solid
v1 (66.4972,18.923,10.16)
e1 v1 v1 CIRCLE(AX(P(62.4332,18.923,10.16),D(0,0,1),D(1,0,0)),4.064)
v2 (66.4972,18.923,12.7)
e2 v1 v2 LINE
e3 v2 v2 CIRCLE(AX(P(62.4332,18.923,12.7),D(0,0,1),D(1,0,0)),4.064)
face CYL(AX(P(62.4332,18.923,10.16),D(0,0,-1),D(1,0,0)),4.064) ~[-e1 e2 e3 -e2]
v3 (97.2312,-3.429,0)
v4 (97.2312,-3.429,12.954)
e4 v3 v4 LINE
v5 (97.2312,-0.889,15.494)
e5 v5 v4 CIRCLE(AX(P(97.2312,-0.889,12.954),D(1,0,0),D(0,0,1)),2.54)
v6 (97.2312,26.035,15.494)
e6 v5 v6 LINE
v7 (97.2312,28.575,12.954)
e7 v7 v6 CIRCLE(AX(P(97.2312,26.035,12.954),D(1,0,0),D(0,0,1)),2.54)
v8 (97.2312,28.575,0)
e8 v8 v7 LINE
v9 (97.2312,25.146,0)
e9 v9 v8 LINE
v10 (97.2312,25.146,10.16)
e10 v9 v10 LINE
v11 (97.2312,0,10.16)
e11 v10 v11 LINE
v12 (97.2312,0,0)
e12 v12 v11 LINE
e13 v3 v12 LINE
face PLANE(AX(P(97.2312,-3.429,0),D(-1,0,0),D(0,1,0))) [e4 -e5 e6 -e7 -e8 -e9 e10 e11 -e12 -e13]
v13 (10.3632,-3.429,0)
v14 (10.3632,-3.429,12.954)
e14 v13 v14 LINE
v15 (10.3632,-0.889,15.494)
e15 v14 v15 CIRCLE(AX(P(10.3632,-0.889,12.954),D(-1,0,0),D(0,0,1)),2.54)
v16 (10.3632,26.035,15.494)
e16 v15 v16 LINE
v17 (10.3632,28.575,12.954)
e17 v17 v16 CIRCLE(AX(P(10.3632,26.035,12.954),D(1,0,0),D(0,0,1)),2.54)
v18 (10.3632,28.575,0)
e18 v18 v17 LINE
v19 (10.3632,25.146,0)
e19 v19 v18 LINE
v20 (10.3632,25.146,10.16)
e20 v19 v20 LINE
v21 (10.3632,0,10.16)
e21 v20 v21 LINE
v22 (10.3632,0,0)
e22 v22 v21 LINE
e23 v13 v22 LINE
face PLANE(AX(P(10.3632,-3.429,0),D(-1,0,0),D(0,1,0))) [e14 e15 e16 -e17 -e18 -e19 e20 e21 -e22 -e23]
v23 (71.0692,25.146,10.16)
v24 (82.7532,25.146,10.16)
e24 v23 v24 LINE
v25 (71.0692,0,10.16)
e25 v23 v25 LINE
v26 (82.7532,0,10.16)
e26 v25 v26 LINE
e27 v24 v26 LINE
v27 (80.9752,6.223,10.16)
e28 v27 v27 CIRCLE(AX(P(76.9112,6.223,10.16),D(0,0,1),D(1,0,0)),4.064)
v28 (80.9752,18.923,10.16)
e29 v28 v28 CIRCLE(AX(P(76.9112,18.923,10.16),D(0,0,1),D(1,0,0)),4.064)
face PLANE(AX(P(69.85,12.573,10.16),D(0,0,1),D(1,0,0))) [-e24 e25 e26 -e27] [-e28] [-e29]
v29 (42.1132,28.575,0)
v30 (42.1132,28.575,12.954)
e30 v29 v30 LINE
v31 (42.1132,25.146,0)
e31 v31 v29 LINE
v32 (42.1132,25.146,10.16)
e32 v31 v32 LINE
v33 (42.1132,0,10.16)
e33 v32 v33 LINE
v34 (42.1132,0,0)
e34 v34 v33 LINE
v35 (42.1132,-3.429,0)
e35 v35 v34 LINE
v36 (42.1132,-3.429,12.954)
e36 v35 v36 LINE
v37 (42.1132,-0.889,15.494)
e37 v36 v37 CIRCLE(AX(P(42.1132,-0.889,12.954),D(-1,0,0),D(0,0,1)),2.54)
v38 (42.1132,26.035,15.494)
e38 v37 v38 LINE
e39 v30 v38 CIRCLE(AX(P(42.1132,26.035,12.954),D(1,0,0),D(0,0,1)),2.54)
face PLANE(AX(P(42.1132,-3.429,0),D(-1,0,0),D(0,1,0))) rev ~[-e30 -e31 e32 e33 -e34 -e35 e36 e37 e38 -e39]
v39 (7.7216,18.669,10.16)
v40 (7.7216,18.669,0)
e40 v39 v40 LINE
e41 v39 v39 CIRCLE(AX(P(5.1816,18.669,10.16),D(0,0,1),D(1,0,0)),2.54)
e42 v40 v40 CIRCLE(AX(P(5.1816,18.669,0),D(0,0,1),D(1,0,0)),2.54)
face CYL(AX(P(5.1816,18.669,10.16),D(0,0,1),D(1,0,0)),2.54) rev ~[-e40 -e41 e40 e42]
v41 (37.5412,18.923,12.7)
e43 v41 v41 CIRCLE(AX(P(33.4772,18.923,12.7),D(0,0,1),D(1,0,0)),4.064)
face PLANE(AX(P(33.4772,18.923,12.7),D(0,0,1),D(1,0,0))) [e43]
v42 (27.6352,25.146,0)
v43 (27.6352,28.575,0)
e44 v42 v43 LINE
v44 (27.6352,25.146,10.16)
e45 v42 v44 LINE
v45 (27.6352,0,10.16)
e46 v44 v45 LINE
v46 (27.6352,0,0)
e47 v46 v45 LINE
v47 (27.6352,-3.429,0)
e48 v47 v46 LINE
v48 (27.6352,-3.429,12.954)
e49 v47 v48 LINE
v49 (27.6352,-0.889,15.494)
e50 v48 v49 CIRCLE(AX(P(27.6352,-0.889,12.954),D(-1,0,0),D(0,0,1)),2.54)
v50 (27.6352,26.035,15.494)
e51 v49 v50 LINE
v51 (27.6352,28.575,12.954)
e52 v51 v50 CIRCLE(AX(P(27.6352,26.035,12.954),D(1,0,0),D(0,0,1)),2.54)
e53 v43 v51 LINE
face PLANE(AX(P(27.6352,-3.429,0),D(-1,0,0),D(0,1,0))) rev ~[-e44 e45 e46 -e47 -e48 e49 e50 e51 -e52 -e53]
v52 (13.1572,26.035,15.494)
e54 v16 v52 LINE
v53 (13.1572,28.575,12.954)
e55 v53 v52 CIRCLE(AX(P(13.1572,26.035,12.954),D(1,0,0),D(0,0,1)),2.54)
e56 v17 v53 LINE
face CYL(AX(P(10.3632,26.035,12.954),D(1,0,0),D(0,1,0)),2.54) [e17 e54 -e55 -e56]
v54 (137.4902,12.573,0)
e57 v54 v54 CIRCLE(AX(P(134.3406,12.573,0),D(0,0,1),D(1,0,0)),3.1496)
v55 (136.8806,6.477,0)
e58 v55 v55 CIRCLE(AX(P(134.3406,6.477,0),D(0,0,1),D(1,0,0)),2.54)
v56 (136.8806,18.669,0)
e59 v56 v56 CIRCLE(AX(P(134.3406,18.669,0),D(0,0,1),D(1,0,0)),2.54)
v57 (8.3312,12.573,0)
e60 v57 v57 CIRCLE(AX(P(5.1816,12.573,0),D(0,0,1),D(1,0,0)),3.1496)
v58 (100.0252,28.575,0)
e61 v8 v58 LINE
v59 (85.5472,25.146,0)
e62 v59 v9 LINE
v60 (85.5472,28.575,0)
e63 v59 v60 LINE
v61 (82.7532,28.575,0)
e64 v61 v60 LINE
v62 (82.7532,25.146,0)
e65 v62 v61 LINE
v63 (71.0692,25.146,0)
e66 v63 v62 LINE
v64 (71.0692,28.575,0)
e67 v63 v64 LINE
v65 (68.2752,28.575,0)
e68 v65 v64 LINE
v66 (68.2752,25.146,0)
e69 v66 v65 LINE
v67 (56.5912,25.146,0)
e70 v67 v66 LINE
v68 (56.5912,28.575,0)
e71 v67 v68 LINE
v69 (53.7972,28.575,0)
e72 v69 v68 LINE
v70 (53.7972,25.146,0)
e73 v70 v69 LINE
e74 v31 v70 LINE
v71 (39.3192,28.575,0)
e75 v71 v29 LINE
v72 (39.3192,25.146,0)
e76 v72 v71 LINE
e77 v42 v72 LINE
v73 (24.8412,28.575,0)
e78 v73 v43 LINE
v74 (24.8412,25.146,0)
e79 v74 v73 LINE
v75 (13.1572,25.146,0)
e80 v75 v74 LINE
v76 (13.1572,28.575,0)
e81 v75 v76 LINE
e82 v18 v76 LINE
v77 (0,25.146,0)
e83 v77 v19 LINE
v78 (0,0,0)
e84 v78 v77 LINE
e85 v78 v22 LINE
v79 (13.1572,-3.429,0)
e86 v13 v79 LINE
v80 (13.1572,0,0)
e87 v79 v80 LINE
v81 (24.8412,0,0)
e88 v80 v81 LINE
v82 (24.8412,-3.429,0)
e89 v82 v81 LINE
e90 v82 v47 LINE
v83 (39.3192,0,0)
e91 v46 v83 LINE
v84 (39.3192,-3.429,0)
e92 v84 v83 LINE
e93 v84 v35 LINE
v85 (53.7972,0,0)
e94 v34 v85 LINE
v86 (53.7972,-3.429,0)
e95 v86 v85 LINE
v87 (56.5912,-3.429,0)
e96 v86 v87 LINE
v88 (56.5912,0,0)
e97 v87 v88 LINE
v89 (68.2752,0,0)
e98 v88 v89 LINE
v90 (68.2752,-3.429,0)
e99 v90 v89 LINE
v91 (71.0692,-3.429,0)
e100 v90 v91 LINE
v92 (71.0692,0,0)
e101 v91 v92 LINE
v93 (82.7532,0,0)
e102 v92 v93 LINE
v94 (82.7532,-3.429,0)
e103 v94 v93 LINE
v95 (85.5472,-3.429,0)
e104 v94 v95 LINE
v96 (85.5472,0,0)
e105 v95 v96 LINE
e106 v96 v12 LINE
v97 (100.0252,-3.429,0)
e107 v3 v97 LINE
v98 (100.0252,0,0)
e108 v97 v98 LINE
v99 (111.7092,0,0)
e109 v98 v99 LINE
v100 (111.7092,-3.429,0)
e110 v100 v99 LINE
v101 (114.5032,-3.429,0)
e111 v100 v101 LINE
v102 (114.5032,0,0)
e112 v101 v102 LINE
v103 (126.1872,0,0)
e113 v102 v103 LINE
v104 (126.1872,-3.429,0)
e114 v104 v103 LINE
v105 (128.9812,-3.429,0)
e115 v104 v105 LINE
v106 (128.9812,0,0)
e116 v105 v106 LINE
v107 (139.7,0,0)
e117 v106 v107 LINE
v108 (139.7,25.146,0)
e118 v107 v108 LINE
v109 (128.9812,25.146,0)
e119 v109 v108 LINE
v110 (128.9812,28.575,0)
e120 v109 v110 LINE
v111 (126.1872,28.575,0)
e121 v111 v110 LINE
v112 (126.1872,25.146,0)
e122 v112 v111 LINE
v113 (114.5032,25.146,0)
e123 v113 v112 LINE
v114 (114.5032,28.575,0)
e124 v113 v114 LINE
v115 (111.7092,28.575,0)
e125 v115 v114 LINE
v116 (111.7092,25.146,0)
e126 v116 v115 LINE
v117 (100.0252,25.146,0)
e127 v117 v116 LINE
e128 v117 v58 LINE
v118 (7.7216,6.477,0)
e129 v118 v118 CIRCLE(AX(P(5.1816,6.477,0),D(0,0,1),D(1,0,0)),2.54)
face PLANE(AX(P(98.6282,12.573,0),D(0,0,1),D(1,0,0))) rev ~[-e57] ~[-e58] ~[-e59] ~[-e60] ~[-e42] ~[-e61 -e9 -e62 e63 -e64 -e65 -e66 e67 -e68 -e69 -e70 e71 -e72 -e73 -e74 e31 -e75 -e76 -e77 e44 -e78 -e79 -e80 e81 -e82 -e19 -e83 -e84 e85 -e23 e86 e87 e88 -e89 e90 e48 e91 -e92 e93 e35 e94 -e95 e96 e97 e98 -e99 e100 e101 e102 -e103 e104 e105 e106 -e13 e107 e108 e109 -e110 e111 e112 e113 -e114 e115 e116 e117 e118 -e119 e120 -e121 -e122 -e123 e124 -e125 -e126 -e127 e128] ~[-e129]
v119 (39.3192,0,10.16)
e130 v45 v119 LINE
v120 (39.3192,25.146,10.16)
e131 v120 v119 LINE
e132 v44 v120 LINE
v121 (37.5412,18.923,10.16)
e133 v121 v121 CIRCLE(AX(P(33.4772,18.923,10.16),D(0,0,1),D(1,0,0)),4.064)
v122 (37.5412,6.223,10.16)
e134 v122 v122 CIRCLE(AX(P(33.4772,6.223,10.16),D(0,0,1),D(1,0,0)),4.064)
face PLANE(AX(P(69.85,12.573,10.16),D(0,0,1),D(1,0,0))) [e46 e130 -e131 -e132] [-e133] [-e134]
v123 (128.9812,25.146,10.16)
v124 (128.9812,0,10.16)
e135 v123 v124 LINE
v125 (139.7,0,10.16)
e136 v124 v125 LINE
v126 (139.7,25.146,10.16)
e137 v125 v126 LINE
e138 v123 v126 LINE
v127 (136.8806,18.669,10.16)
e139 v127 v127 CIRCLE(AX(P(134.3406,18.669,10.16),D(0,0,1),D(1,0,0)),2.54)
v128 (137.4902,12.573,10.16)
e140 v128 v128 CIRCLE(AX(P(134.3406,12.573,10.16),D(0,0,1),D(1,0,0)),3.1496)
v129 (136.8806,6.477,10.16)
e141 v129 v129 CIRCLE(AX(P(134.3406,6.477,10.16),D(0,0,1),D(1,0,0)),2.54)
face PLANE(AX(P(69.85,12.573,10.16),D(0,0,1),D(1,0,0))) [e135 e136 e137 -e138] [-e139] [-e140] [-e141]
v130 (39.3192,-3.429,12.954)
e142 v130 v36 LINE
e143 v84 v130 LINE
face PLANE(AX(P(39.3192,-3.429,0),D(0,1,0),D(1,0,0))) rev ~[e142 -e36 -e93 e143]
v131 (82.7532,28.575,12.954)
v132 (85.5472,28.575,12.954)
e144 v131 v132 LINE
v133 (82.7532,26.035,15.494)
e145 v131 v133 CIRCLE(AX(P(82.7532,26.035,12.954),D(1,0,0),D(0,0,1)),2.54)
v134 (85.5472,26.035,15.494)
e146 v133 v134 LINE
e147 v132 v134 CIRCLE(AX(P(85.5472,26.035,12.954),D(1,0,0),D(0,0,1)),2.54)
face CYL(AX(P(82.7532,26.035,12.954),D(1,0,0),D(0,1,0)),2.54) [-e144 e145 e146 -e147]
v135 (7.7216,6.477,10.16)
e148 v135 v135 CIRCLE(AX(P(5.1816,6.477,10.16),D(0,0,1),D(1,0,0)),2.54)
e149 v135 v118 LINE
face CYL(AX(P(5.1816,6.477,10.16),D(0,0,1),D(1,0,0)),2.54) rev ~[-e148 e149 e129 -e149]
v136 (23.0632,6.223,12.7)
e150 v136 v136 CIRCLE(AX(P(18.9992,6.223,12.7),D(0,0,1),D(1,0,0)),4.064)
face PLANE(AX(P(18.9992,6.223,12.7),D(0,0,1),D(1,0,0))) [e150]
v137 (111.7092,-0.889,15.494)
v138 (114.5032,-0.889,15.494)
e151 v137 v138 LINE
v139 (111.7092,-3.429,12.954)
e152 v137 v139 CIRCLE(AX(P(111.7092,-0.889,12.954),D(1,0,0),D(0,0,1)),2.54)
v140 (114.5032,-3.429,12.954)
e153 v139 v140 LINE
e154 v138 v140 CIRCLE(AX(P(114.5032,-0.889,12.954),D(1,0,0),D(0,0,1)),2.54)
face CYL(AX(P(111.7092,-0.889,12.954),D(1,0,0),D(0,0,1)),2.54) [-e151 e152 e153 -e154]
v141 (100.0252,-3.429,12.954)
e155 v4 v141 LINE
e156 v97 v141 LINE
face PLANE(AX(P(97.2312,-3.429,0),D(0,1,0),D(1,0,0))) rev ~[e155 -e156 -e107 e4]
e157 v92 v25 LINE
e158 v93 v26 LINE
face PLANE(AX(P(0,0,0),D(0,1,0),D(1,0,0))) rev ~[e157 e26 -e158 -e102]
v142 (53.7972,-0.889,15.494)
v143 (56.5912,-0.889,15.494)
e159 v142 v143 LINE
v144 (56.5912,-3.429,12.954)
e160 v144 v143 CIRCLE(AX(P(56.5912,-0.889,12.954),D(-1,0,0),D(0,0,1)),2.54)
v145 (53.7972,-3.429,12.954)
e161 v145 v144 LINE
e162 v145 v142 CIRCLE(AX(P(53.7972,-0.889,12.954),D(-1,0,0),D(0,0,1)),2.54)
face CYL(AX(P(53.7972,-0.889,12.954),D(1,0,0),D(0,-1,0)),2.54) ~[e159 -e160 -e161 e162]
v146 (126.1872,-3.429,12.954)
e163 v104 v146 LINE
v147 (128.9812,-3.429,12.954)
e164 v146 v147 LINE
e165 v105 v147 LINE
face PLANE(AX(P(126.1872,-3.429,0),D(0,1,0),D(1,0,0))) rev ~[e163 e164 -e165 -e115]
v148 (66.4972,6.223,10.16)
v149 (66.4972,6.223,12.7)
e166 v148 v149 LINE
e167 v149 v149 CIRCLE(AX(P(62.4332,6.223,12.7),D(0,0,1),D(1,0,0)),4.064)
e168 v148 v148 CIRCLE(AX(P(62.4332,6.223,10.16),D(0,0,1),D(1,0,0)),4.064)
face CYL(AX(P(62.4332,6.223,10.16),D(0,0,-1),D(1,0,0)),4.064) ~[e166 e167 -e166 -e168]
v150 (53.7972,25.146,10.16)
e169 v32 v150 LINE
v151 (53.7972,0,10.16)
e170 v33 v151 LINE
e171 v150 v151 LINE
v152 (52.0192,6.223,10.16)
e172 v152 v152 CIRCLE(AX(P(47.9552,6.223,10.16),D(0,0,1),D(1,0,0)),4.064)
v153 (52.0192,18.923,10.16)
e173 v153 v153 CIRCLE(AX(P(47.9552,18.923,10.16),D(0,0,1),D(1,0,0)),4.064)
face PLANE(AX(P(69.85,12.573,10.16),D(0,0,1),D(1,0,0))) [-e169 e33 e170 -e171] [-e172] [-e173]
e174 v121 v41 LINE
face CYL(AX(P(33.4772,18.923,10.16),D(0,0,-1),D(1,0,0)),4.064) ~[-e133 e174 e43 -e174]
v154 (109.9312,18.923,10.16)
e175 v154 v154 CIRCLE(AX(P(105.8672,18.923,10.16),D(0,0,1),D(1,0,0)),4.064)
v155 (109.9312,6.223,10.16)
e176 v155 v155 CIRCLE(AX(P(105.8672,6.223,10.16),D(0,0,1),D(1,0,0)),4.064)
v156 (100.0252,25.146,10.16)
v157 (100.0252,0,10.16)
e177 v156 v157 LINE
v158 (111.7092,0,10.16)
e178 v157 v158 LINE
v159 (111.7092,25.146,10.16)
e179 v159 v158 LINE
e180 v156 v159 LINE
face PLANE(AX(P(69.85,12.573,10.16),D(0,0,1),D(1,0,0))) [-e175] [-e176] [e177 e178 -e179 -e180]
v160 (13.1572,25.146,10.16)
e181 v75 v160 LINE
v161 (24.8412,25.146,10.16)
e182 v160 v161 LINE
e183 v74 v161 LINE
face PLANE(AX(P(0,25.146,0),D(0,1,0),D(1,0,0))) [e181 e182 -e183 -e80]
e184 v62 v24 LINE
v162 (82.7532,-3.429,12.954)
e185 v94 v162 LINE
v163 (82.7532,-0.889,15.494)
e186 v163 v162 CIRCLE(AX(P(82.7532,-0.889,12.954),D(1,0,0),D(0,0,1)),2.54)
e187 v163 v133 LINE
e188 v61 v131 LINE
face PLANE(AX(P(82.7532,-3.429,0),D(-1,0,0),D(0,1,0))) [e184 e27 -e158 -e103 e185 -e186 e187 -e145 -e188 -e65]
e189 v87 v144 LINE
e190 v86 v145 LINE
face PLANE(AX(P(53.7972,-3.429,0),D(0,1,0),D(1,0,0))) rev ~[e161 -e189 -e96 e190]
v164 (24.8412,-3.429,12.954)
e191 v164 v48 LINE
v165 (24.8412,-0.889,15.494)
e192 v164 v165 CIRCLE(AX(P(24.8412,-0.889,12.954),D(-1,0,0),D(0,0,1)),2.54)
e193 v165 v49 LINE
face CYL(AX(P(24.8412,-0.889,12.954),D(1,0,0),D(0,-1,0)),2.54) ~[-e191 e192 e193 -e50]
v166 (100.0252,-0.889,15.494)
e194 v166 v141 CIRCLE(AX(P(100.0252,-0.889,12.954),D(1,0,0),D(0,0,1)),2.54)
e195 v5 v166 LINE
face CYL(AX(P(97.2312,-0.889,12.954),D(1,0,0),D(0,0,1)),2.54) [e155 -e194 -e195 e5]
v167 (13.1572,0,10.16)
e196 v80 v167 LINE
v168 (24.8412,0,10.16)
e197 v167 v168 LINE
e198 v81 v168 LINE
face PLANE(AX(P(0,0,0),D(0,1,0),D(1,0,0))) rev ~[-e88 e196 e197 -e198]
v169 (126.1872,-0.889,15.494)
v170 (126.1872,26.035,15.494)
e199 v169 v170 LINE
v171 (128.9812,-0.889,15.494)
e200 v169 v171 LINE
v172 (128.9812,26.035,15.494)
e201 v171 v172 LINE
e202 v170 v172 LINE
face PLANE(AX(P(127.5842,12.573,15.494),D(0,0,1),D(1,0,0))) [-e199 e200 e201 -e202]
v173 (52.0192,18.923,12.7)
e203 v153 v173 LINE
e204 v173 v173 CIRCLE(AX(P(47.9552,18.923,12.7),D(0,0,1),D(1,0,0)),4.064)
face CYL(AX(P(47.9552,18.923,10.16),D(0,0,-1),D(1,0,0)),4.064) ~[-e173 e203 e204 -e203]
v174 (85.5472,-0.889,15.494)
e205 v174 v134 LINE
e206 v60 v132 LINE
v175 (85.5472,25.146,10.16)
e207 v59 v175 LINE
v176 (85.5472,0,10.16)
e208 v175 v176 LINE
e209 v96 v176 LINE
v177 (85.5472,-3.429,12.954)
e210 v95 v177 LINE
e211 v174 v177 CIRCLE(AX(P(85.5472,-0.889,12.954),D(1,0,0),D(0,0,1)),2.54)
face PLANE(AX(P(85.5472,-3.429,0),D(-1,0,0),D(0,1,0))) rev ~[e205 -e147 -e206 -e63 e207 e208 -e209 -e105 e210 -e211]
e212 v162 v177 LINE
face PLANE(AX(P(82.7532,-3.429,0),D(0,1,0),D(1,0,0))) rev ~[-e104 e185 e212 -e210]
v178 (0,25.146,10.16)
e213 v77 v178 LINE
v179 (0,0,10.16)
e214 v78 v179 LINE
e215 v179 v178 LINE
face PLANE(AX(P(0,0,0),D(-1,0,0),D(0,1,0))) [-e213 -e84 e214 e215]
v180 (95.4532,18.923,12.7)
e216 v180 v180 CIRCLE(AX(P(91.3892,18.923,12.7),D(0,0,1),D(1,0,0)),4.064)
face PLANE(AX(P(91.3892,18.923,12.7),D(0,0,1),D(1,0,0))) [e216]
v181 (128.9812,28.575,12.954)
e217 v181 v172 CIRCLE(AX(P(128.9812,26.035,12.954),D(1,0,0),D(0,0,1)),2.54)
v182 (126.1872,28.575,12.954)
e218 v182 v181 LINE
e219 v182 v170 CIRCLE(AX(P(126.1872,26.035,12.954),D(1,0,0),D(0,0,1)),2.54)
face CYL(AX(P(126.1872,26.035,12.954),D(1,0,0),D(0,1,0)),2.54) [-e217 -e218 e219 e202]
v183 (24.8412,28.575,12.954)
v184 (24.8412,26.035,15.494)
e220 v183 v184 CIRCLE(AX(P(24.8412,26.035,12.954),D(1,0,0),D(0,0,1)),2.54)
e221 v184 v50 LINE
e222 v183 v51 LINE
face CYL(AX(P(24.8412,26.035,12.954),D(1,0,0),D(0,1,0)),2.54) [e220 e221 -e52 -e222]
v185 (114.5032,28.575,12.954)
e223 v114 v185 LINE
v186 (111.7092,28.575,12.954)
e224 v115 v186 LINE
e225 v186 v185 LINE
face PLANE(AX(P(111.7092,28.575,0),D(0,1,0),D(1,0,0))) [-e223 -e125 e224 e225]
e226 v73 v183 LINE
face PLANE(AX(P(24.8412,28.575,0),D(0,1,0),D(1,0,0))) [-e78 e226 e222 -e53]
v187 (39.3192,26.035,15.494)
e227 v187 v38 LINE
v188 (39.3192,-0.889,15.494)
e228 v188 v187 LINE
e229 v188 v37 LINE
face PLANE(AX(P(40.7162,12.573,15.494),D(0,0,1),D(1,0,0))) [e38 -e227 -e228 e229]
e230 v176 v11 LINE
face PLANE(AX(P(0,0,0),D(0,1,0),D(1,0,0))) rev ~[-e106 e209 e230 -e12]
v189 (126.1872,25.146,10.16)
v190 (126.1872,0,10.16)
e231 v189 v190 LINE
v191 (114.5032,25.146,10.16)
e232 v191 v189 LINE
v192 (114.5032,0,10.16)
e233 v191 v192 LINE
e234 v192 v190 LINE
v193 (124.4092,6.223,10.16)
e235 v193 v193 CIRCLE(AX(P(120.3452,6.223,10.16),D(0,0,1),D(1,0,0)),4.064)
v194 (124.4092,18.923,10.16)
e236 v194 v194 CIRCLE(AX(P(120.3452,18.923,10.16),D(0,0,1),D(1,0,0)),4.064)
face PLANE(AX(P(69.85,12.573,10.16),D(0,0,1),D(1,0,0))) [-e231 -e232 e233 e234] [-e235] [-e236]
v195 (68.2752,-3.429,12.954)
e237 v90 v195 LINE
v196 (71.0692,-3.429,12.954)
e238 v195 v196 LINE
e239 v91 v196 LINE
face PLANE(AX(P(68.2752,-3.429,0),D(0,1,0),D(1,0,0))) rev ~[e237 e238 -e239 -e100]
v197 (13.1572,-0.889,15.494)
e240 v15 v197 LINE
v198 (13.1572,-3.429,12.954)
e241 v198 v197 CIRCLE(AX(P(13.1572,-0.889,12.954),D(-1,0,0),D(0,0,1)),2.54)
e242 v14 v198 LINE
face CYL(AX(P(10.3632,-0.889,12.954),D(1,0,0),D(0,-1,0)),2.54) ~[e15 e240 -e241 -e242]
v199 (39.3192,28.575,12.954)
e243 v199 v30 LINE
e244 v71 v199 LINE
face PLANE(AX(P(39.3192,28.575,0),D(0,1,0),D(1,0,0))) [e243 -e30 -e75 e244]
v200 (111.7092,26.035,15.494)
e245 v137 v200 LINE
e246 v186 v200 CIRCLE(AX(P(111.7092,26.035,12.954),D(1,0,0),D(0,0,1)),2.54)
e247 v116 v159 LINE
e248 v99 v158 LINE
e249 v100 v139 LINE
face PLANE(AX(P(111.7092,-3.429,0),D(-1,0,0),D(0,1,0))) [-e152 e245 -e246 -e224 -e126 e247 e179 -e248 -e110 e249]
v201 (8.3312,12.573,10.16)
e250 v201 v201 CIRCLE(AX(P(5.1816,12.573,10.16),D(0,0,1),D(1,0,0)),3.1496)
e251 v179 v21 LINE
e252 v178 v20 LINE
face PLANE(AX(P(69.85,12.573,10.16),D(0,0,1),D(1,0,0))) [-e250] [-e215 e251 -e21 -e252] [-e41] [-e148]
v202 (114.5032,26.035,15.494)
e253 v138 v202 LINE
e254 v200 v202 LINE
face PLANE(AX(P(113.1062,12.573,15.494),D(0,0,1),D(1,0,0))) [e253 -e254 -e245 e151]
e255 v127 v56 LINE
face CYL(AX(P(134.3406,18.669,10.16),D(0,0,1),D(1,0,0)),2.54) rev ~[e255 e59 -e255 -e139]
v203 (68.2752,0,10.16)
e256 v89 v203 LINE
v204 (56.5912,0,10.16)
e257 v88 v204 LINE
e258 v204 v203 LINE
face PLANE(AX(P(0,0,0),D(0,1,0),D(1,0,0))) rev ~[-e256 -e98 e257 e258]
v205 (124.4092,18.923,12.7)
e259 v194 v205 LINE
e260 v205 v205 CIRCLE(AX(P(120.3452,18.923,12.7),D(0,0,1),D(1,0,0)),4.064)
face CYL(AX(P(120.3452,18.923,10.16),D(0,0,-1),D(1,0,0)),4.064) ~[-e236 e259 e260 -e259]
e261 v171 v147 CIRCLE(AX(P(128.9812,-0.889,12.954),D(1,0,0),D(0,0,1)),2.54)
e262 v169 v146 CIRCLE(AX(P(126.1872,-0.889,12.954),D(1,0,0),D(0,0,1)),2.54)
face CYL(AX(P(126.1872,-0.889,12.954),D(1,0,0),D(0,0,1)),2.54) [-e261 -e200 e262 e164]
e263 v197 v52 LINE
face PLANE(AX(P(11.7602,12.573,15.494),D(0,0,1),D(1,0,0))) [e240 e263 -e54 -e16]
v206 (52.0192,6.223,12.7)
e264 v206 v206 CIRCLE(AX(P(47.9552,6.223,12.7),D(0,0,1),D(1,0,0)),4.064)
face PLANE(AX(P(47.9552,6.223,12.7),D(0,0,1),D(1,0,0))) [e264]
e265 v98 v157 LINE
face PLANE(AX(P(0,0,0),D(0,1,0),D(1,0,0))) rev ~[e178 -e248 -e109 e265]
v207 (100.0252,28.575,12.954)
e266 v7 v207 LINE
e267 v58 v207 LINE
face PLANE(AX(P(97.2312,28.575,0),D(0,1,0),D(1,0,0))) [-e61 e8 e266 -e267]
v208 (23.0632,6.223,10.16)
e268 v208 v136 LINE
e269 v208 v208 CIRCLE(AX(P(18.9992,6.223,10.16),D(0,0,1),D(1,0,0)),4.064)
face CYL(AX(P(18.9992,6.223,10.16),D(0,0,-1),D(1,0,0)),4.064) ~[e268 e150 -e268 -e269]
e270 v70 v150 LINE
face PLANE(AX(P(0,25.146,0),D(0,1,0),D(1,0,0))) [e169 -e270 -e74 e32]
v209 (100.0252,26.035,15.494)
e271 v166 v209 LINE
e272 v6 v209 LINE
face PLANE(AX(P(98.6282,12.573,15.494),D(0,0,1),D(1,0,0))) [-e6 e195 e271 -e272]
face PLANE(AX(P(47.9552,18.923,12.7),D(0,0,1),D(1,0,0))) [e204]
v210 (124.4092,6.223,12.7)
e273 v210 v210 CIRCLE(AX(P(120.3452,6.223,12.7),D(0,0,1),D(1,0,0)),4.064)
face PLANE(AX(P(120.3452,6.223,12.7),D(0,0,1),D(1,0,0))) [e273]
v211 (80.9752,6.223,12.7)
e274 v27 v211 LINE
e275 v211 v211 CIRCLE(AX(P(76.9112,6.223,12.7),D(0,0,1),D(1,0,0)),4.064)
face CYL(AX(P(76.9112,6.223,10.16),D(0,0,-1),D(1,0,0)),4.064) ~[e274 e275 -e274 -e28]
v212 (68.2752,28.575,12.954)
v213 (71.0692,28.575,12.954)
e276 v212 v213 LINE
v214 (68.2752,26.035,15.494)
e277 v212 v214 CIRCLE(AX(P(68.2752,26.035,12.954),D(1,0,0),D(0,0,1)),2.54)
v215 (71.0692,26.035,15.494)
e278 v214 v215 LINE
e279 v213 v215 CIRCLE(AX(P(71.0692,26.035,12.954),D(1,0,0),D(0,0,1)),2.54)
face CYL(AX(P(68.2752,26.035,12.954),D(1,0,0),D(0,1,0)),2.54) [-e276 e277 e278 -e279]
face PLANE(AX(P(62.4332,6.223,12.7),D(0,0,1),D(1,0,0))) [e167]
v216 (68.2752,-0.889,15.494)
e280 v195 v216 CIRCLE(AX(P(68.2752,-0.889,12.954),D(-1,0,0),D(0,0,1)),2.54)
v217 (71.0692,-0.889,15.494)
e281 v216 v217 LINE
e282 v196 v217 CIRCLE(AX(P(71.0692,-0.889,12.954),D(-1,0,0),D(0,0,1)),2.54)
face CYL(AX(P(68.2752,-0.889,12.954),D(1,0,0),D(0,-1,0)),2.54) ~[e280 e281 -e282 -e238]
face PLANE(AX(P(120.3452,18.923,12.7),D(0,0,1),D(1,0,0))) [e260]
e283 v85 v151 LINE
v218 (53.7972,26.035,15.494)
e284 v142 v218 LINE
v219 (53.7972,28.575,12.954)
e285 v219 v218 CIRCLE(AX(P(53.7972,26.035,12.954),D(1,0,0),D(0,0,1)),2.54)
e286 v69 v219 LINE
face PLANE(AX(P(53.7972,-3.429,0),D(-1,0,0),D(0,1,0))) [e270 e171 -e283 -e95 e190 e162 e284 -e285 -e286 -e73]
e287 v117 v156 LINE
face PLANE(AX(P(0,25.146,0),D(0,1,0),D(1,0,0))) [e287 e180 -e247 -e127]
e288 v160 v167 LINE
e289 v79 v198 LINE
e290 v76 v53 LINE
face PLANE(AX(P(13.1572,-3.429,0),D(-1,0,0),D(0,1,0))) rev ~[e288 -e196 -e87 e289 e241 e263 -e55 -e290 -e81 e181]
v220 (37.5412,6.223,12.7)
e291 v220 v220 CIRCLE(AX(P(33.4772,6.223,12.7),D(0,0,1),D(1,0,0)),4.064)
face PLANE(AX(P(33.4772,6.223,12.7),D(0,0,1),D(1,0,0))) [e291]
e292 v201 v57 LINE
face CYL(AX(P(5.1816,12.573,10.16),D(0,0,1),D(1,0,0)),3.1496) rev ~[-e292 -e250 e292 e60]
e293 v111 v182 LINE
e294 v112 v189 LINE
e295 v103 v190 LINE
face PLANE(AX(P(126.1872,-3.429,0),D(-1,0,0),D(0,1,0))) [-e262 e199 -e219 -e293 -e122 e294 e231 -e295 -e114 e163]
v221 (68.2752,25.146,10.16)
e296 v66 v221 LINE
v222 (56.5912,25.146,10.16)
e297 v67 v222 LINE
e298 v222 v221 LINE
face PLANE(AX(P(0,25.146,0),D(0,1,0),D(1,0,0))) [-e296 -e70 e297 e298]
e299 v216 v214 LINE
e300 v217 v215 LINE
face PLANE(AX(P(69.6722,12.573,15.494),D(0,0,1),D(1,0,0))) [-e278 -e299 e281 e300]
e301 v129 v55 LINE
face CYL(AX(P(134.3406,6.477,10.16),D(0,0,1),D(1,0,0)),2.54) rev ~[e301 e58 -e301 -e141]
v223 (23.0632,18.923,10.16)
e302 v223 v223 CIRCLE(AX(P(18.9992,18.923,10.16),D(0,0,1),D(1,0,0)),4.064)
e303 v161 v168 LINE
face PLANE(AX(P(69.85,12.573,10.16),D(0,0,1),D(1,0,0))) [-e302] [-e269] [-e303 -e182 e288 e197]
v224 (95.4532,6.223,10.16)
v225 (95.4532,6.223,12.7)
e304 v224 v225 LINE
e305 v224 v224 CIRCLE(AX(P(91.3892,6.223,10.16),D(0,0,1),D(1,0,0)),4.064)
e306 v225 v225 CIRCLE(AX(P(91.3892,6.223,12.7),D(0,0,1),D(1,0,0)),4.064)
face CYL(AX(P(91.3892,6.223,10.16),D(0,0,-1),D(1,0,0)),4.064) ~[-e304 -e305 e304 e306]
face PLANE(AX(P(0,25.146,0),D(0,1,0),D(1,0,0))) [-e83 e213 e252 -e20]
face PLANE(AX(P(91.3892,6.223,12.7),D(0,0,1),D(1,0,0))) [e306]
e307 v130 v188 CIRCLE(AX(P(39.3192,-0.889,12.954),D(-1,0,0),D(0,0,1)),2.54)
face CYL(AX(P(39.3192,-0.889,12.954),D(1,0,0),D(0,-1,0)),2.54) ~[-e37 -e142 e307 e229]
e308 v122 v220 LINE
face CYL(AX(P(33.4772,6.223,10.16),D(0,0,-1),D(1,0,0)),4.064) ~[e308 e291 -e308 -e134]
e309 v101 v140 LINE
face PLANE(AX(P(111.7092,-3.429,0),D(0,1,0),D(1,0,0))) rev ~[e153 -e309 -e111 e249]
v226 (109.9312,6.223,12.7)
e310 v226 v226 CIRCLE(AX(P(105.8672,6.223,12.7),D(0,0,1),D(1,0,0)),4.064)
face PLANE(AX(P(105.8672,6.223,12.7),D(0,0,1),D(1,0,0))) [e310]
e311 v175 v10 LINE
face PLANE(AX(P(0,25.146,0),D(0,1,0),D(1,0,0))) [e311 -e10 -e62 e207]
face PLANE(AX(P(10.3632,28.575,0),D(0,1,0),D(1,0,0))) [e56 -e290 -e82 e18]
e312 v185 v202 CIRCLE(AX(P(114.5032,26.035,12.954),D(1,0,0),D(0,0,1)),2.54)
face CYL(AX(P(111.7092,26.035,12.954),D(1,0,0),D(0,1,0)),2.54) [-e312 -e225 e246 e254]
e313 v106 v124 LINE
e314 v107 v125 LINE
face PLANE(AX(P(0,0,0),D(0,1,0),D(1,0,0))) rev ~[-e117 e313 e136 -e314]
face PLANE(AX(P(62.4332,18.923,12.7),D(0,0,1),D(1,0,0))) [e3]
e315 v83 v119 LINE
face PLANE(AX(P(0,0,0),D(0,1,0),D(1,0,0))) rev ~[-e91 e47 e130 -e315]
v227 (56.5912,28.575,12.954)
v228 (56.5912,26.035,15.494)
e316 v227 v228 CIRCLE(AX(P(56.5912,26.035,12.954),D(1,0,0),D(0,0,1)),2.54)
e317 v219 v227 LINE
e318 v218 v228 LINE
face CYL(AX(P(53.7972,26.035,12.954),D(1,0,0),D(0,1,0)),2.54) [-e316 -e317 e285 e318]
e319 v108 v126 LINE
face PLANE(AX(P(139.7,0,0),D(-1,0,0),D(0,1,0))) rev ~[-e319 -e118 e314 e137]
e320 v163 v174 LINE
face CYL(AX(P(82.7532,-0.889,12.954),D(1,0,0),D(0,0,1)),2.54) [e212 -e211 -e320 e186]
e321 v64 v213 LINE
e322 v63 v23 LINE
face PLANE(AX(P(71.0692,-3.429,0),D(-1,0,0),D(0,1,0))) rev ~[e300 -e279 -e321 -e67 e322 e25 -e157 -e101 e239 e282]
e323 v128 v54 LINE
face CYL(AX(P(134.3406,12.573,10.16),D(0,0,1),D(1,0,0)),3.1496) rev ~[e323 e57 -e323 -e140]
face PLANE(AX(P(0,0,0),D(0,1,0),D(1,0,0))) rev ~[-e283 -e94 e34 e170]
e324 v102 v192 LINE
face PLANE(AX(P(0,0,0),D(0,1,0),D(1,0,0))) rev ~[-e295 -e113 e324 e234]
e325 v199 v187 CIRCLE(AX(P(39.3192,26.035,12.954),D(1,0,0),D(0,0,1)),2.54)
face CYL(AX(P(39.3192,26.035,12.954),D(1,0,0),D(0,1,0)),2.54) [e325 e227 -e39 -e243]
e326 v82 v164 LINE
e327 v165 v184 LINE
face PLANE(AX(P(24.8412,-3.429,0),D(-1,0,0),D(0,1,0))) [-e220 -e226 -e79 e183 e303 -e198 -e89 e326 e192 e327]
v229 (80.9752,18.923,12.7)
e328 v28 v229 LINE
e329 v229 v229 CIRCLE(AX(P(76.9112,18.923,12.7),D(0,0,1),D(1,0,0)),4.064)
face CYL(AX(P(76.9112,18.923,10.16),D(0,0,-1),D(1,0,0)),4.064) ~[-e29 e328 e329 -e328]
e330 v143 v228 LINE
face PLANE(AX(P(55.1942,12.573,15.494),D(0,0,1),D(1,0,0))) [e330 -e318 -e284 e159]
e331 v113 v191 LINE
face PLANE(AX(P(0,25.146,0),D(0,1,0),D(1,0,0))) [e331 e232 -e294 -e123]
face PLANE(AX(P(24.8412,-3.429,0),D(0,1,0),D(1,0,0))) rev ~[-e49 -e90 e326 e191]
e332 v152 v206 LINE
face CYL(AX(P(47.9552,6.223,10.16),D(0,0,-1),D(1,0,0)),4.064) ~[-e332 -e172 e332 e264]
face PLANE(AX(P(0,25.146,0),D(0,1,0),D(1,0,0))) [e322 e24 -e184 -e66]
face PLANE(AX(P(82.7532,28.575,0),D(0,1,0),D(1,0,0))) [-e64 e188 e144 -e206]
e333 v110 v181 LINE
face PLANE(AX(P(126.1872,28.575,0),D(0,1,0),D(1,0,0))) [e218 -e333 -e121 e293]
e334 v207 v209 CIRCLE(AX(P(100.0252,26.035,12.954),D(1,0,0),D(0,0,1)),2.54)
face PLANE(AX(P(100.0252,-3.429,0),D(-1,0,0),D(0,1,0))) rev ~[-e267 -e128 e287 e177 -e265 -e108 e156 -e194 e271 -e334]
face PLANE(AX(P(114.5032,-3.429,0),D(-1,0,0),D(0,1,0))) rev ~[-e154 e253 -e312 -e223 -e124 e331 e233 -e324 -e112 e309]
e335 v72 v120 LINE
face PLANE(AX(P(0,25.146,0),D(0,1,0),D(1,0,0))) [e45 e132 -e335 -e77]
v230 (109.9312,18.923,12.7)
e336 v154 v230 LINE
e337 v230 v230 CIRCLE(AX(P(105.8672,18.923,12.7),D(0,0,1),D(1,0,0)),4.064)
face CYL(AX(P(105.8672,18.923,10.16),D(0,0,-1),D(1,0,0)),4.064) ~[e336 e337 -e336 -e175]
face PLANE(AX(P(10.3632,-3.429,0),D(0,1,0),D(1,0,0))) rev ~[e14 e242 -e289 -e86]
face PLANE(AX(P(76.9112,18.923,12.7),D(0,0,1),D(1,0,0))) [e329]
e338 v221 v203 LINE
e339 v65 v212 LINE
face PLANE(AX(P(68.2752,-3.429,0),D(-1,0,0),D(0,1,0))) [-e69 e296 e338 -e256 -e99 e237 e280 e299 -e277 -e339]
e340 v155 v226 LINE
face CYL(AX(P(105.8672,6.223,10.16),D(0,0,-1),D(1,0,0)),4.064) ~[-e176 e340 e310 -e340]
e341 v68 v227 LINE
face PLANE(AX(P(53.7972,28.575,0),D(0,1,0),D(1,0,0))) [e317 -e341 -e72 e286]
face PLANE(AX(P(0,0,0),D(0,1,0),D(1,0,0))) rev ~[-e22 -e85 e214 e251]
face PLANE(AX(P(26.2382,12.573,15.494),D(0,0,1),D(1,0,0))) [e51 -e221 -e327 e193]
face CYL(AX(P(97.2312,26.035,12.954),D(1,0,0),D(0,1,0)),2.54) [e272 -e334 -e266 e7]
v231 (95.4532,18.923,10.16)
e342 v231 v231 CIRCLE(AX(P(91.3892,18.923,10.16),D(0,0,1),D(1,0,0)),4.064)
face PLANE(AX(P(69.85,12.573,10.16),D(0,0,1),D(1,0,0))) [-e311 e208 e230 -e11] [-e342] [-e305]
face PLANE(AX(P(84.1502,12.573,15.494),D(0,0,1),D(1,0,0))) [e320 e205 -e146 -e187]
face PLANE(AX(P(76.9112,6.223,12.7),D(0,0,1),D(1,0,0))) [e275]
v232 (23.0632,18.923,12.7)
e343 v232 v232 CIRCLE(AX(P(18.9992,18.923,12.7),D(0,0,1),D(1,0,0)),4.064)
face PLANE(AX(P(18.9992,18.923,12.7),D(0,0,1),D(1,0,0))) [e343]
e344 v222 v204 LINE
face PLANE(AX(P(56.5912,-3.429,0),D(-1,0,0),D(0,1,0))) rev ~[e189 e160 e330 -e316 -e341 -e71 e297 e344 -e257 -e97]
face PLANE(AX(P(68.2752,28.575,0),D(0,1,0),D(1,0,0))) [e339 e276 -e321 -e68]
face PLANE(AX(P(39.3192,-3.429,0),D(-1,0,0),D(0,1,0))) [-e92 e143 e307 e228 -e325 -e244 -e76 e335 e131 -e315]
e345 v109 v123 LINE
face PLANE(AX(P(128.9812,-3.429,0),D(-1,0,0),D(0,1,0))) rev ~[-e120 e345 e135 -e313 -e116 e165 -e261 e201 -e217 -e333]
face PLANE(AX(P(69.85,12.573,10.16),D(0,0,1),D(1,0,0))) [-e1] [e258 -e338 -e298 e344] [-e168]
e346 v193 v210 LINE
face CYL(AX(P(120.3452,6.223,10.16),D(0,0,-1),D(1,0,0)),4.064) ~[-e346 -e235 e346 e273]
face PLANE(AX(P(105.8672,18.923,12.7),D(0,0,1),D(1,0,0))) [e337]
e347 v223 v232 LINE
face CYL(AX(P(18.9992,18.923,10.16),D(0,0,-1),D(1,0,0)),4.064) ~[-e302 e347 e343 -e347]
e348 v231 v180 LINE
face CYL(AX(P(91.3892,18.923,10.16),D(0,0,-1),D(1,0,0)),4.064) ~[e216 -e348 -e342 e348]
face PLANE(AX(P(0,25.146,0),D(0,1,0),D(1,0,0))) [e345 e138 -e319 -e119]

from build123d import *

# Parameters (mm, degrees)
SKETCH1_W           = 139.7
SKETCH1_H           = 25.146
BOSS_EXTRUDE1_DEPTH = 10.16
SKETCH3_W           = 2.794
SKETCH3_H           = 32.004
BOSS_EXTRUDE2_DEPTH = 15.494
FILLET1_R           = 2.54
SKETCH4_R           = 4.064
BOSS_EXTRUDE3_DEPTH = 2.54
SKETCH5_R           = 2.54
SKETCH5_R_2         = 3.1496
CUT_EXTRUDE1_DEPTH  = 10.16


with BuildPart() as part:
    # Sketch1 → Boss-Extrude1 (new body)
    with BuildSketch(Plane.XY):
        with Locations((69.85, 12.573)):
            Rectangle(SKETCH1_W, SKETCH1_H)
    extrude(amount=BOSS_EXTRUDE1_DEPTH)

    # Sketch3 → Boss-Extrude2 (add)
    with BuildSketch(Plane.XY):
        with Locations((98.6282, 12.573)):
            Rectangle(SKETCH3_W, SKETCH3_H)
        with Locations((127.5842, 12.573)):
            Rectangle(SKETCH3_W, SKETCH3_H)
        with Locations((113.1062, 12.573)):
            Rectangle(SKETCH3_W, SKETCH3_H)
        with Locations((84.1502, 12.573)):
            Rectangle(SKETCH3_W, SKETCH3_H)
        with Locations((69.6722, 12.573)):
            Rectangle(SKETCH3_W, SKETCH3_H)
        with Locations((55.1942, 12.573)):
            Rectangle(SKETCH3_W, SKETCH3_H)
        with Locations((40.7162, 12.573)):
            Rectangle(SKETCH3_W, SKETCH3_H)
        with Locations((26.2382, 12.573)):
            Rectangle(SKETCH3_W, SKETCH3_H)
        with Locations((11.7602, 12.573)):
            Rectangle(SKETCH3_W, SKETCH3_H)
    extrude(amount=BOSS_EXTRUDE2_DEPTH)

    # Fillet1
    fillet1_edges = [part.edges().sort_by_distance(p)[0] for p in [
        (69.6722, -3.429, 15.494),
        (69.6722, 28.575, 15.494),
        (55.1942, -3.429, 15.494),
        (55.1942, 28.575, 15.494),
        (40.7162, -3.429, 15.494),
        (40.7162, 28.575, 15.494),
        (26.2382, -3.429, 15.494),
        (26.2382, 28.575, 15.494),
        (11.7602, -3.429, 15.494),
        (11.7602, 28.575, 15.494),
        (127.5842, -3.429, 15.494),
        (127.5842, 28.575, 15.494),
        (113.1062, -3.429, 15.494),
        (113.1062, 28.575, 15.494),
        (98.6282, -3.429, 15.494),
        (98.6282, 28.575, 15.494),
        (84.1502, -3.429, 15.494),
        (84.1502, 28.575, 15.494),
    ]]
    fillet(fillet1_edges, radius=FILLET1_R)

    # Sketch4 → Boss-Extrude3 (add)
    with BuildSketch(Plane.XY.offset(10.16)):
        with Locations((18.9992, 18.923)):
            Circle(SKETCH4_R)
        with Locations((18.9992, 6.223)):
            Circle(SKETCH4_R)
        with Locations((47.9552, 18.923)):
            Circle(SKETCH4_R)
        with Locations((47.9552, 6.223)):
            Circle(SKETCH4_R)
        with Locations((33.4772, 18.923)):
            Circle(SKETCH4_R)
        with Locations((33.4772, 6.223)):
            Circle(SKETCH4_R)
        with Locations((62.4332, 18.923)):
            Circle(SKETCH4_R)
        with Locations((62.4332, 6.223)):
            Circle(SKETCH4_R)
        with Locations((76.9112, 18.923)):
            Circle(SKETCH4_R)
        with Locations((76.9112, 6.223)):
            Circle(SKETCH4_R)
        with Locations((91.3892, 18.923)):
            Circle(SKETCH4_R)
        with Locations((91.3892, 6.223)):
            Circle(SKETCH4_R)
        with Locations((105.8672, 18.923)):
            Circle(SKETCH4_R)
        with Locations((105.8672, 6.223)):
            Circle(SKETCH4_R)
        with Locations((120.3452, 18.923)):
            Circle(SKETCH4_R)
        with Locations((120.3452, 6.223)):
            Circle(SKETCH4_R)
    extrude(amount=BOSS_EXTRUDE3_DEPTH)

    # Sketch5 → Cut-Extrude1 (cut)
    with BuildSketch(Plane.XY.offset(10.16)):
        with Locations((5.1816, 18.669)):
            Circle(SKETCH5_R)
        with Locations((134.3406, 18.669)):
            Circle(SKETCH5_R)
        with Locations((134.3406, 12.573)):
            Circle(SKETCH5_R_2)
        with Locations((5.1816, 6.477)):
            Circle(SKETCH5_R)
        with Locations((134.3406, 6.477)):
            Circle(SKETCH5_R)
        with Locations((5.1816, 12.573)):
            Circle(SKETCH5_R_2)
    extrude(amount=-CUT_EXTRUDE1_DEPTH, mode=Mode.SUBTRACT)


solid = part.part
